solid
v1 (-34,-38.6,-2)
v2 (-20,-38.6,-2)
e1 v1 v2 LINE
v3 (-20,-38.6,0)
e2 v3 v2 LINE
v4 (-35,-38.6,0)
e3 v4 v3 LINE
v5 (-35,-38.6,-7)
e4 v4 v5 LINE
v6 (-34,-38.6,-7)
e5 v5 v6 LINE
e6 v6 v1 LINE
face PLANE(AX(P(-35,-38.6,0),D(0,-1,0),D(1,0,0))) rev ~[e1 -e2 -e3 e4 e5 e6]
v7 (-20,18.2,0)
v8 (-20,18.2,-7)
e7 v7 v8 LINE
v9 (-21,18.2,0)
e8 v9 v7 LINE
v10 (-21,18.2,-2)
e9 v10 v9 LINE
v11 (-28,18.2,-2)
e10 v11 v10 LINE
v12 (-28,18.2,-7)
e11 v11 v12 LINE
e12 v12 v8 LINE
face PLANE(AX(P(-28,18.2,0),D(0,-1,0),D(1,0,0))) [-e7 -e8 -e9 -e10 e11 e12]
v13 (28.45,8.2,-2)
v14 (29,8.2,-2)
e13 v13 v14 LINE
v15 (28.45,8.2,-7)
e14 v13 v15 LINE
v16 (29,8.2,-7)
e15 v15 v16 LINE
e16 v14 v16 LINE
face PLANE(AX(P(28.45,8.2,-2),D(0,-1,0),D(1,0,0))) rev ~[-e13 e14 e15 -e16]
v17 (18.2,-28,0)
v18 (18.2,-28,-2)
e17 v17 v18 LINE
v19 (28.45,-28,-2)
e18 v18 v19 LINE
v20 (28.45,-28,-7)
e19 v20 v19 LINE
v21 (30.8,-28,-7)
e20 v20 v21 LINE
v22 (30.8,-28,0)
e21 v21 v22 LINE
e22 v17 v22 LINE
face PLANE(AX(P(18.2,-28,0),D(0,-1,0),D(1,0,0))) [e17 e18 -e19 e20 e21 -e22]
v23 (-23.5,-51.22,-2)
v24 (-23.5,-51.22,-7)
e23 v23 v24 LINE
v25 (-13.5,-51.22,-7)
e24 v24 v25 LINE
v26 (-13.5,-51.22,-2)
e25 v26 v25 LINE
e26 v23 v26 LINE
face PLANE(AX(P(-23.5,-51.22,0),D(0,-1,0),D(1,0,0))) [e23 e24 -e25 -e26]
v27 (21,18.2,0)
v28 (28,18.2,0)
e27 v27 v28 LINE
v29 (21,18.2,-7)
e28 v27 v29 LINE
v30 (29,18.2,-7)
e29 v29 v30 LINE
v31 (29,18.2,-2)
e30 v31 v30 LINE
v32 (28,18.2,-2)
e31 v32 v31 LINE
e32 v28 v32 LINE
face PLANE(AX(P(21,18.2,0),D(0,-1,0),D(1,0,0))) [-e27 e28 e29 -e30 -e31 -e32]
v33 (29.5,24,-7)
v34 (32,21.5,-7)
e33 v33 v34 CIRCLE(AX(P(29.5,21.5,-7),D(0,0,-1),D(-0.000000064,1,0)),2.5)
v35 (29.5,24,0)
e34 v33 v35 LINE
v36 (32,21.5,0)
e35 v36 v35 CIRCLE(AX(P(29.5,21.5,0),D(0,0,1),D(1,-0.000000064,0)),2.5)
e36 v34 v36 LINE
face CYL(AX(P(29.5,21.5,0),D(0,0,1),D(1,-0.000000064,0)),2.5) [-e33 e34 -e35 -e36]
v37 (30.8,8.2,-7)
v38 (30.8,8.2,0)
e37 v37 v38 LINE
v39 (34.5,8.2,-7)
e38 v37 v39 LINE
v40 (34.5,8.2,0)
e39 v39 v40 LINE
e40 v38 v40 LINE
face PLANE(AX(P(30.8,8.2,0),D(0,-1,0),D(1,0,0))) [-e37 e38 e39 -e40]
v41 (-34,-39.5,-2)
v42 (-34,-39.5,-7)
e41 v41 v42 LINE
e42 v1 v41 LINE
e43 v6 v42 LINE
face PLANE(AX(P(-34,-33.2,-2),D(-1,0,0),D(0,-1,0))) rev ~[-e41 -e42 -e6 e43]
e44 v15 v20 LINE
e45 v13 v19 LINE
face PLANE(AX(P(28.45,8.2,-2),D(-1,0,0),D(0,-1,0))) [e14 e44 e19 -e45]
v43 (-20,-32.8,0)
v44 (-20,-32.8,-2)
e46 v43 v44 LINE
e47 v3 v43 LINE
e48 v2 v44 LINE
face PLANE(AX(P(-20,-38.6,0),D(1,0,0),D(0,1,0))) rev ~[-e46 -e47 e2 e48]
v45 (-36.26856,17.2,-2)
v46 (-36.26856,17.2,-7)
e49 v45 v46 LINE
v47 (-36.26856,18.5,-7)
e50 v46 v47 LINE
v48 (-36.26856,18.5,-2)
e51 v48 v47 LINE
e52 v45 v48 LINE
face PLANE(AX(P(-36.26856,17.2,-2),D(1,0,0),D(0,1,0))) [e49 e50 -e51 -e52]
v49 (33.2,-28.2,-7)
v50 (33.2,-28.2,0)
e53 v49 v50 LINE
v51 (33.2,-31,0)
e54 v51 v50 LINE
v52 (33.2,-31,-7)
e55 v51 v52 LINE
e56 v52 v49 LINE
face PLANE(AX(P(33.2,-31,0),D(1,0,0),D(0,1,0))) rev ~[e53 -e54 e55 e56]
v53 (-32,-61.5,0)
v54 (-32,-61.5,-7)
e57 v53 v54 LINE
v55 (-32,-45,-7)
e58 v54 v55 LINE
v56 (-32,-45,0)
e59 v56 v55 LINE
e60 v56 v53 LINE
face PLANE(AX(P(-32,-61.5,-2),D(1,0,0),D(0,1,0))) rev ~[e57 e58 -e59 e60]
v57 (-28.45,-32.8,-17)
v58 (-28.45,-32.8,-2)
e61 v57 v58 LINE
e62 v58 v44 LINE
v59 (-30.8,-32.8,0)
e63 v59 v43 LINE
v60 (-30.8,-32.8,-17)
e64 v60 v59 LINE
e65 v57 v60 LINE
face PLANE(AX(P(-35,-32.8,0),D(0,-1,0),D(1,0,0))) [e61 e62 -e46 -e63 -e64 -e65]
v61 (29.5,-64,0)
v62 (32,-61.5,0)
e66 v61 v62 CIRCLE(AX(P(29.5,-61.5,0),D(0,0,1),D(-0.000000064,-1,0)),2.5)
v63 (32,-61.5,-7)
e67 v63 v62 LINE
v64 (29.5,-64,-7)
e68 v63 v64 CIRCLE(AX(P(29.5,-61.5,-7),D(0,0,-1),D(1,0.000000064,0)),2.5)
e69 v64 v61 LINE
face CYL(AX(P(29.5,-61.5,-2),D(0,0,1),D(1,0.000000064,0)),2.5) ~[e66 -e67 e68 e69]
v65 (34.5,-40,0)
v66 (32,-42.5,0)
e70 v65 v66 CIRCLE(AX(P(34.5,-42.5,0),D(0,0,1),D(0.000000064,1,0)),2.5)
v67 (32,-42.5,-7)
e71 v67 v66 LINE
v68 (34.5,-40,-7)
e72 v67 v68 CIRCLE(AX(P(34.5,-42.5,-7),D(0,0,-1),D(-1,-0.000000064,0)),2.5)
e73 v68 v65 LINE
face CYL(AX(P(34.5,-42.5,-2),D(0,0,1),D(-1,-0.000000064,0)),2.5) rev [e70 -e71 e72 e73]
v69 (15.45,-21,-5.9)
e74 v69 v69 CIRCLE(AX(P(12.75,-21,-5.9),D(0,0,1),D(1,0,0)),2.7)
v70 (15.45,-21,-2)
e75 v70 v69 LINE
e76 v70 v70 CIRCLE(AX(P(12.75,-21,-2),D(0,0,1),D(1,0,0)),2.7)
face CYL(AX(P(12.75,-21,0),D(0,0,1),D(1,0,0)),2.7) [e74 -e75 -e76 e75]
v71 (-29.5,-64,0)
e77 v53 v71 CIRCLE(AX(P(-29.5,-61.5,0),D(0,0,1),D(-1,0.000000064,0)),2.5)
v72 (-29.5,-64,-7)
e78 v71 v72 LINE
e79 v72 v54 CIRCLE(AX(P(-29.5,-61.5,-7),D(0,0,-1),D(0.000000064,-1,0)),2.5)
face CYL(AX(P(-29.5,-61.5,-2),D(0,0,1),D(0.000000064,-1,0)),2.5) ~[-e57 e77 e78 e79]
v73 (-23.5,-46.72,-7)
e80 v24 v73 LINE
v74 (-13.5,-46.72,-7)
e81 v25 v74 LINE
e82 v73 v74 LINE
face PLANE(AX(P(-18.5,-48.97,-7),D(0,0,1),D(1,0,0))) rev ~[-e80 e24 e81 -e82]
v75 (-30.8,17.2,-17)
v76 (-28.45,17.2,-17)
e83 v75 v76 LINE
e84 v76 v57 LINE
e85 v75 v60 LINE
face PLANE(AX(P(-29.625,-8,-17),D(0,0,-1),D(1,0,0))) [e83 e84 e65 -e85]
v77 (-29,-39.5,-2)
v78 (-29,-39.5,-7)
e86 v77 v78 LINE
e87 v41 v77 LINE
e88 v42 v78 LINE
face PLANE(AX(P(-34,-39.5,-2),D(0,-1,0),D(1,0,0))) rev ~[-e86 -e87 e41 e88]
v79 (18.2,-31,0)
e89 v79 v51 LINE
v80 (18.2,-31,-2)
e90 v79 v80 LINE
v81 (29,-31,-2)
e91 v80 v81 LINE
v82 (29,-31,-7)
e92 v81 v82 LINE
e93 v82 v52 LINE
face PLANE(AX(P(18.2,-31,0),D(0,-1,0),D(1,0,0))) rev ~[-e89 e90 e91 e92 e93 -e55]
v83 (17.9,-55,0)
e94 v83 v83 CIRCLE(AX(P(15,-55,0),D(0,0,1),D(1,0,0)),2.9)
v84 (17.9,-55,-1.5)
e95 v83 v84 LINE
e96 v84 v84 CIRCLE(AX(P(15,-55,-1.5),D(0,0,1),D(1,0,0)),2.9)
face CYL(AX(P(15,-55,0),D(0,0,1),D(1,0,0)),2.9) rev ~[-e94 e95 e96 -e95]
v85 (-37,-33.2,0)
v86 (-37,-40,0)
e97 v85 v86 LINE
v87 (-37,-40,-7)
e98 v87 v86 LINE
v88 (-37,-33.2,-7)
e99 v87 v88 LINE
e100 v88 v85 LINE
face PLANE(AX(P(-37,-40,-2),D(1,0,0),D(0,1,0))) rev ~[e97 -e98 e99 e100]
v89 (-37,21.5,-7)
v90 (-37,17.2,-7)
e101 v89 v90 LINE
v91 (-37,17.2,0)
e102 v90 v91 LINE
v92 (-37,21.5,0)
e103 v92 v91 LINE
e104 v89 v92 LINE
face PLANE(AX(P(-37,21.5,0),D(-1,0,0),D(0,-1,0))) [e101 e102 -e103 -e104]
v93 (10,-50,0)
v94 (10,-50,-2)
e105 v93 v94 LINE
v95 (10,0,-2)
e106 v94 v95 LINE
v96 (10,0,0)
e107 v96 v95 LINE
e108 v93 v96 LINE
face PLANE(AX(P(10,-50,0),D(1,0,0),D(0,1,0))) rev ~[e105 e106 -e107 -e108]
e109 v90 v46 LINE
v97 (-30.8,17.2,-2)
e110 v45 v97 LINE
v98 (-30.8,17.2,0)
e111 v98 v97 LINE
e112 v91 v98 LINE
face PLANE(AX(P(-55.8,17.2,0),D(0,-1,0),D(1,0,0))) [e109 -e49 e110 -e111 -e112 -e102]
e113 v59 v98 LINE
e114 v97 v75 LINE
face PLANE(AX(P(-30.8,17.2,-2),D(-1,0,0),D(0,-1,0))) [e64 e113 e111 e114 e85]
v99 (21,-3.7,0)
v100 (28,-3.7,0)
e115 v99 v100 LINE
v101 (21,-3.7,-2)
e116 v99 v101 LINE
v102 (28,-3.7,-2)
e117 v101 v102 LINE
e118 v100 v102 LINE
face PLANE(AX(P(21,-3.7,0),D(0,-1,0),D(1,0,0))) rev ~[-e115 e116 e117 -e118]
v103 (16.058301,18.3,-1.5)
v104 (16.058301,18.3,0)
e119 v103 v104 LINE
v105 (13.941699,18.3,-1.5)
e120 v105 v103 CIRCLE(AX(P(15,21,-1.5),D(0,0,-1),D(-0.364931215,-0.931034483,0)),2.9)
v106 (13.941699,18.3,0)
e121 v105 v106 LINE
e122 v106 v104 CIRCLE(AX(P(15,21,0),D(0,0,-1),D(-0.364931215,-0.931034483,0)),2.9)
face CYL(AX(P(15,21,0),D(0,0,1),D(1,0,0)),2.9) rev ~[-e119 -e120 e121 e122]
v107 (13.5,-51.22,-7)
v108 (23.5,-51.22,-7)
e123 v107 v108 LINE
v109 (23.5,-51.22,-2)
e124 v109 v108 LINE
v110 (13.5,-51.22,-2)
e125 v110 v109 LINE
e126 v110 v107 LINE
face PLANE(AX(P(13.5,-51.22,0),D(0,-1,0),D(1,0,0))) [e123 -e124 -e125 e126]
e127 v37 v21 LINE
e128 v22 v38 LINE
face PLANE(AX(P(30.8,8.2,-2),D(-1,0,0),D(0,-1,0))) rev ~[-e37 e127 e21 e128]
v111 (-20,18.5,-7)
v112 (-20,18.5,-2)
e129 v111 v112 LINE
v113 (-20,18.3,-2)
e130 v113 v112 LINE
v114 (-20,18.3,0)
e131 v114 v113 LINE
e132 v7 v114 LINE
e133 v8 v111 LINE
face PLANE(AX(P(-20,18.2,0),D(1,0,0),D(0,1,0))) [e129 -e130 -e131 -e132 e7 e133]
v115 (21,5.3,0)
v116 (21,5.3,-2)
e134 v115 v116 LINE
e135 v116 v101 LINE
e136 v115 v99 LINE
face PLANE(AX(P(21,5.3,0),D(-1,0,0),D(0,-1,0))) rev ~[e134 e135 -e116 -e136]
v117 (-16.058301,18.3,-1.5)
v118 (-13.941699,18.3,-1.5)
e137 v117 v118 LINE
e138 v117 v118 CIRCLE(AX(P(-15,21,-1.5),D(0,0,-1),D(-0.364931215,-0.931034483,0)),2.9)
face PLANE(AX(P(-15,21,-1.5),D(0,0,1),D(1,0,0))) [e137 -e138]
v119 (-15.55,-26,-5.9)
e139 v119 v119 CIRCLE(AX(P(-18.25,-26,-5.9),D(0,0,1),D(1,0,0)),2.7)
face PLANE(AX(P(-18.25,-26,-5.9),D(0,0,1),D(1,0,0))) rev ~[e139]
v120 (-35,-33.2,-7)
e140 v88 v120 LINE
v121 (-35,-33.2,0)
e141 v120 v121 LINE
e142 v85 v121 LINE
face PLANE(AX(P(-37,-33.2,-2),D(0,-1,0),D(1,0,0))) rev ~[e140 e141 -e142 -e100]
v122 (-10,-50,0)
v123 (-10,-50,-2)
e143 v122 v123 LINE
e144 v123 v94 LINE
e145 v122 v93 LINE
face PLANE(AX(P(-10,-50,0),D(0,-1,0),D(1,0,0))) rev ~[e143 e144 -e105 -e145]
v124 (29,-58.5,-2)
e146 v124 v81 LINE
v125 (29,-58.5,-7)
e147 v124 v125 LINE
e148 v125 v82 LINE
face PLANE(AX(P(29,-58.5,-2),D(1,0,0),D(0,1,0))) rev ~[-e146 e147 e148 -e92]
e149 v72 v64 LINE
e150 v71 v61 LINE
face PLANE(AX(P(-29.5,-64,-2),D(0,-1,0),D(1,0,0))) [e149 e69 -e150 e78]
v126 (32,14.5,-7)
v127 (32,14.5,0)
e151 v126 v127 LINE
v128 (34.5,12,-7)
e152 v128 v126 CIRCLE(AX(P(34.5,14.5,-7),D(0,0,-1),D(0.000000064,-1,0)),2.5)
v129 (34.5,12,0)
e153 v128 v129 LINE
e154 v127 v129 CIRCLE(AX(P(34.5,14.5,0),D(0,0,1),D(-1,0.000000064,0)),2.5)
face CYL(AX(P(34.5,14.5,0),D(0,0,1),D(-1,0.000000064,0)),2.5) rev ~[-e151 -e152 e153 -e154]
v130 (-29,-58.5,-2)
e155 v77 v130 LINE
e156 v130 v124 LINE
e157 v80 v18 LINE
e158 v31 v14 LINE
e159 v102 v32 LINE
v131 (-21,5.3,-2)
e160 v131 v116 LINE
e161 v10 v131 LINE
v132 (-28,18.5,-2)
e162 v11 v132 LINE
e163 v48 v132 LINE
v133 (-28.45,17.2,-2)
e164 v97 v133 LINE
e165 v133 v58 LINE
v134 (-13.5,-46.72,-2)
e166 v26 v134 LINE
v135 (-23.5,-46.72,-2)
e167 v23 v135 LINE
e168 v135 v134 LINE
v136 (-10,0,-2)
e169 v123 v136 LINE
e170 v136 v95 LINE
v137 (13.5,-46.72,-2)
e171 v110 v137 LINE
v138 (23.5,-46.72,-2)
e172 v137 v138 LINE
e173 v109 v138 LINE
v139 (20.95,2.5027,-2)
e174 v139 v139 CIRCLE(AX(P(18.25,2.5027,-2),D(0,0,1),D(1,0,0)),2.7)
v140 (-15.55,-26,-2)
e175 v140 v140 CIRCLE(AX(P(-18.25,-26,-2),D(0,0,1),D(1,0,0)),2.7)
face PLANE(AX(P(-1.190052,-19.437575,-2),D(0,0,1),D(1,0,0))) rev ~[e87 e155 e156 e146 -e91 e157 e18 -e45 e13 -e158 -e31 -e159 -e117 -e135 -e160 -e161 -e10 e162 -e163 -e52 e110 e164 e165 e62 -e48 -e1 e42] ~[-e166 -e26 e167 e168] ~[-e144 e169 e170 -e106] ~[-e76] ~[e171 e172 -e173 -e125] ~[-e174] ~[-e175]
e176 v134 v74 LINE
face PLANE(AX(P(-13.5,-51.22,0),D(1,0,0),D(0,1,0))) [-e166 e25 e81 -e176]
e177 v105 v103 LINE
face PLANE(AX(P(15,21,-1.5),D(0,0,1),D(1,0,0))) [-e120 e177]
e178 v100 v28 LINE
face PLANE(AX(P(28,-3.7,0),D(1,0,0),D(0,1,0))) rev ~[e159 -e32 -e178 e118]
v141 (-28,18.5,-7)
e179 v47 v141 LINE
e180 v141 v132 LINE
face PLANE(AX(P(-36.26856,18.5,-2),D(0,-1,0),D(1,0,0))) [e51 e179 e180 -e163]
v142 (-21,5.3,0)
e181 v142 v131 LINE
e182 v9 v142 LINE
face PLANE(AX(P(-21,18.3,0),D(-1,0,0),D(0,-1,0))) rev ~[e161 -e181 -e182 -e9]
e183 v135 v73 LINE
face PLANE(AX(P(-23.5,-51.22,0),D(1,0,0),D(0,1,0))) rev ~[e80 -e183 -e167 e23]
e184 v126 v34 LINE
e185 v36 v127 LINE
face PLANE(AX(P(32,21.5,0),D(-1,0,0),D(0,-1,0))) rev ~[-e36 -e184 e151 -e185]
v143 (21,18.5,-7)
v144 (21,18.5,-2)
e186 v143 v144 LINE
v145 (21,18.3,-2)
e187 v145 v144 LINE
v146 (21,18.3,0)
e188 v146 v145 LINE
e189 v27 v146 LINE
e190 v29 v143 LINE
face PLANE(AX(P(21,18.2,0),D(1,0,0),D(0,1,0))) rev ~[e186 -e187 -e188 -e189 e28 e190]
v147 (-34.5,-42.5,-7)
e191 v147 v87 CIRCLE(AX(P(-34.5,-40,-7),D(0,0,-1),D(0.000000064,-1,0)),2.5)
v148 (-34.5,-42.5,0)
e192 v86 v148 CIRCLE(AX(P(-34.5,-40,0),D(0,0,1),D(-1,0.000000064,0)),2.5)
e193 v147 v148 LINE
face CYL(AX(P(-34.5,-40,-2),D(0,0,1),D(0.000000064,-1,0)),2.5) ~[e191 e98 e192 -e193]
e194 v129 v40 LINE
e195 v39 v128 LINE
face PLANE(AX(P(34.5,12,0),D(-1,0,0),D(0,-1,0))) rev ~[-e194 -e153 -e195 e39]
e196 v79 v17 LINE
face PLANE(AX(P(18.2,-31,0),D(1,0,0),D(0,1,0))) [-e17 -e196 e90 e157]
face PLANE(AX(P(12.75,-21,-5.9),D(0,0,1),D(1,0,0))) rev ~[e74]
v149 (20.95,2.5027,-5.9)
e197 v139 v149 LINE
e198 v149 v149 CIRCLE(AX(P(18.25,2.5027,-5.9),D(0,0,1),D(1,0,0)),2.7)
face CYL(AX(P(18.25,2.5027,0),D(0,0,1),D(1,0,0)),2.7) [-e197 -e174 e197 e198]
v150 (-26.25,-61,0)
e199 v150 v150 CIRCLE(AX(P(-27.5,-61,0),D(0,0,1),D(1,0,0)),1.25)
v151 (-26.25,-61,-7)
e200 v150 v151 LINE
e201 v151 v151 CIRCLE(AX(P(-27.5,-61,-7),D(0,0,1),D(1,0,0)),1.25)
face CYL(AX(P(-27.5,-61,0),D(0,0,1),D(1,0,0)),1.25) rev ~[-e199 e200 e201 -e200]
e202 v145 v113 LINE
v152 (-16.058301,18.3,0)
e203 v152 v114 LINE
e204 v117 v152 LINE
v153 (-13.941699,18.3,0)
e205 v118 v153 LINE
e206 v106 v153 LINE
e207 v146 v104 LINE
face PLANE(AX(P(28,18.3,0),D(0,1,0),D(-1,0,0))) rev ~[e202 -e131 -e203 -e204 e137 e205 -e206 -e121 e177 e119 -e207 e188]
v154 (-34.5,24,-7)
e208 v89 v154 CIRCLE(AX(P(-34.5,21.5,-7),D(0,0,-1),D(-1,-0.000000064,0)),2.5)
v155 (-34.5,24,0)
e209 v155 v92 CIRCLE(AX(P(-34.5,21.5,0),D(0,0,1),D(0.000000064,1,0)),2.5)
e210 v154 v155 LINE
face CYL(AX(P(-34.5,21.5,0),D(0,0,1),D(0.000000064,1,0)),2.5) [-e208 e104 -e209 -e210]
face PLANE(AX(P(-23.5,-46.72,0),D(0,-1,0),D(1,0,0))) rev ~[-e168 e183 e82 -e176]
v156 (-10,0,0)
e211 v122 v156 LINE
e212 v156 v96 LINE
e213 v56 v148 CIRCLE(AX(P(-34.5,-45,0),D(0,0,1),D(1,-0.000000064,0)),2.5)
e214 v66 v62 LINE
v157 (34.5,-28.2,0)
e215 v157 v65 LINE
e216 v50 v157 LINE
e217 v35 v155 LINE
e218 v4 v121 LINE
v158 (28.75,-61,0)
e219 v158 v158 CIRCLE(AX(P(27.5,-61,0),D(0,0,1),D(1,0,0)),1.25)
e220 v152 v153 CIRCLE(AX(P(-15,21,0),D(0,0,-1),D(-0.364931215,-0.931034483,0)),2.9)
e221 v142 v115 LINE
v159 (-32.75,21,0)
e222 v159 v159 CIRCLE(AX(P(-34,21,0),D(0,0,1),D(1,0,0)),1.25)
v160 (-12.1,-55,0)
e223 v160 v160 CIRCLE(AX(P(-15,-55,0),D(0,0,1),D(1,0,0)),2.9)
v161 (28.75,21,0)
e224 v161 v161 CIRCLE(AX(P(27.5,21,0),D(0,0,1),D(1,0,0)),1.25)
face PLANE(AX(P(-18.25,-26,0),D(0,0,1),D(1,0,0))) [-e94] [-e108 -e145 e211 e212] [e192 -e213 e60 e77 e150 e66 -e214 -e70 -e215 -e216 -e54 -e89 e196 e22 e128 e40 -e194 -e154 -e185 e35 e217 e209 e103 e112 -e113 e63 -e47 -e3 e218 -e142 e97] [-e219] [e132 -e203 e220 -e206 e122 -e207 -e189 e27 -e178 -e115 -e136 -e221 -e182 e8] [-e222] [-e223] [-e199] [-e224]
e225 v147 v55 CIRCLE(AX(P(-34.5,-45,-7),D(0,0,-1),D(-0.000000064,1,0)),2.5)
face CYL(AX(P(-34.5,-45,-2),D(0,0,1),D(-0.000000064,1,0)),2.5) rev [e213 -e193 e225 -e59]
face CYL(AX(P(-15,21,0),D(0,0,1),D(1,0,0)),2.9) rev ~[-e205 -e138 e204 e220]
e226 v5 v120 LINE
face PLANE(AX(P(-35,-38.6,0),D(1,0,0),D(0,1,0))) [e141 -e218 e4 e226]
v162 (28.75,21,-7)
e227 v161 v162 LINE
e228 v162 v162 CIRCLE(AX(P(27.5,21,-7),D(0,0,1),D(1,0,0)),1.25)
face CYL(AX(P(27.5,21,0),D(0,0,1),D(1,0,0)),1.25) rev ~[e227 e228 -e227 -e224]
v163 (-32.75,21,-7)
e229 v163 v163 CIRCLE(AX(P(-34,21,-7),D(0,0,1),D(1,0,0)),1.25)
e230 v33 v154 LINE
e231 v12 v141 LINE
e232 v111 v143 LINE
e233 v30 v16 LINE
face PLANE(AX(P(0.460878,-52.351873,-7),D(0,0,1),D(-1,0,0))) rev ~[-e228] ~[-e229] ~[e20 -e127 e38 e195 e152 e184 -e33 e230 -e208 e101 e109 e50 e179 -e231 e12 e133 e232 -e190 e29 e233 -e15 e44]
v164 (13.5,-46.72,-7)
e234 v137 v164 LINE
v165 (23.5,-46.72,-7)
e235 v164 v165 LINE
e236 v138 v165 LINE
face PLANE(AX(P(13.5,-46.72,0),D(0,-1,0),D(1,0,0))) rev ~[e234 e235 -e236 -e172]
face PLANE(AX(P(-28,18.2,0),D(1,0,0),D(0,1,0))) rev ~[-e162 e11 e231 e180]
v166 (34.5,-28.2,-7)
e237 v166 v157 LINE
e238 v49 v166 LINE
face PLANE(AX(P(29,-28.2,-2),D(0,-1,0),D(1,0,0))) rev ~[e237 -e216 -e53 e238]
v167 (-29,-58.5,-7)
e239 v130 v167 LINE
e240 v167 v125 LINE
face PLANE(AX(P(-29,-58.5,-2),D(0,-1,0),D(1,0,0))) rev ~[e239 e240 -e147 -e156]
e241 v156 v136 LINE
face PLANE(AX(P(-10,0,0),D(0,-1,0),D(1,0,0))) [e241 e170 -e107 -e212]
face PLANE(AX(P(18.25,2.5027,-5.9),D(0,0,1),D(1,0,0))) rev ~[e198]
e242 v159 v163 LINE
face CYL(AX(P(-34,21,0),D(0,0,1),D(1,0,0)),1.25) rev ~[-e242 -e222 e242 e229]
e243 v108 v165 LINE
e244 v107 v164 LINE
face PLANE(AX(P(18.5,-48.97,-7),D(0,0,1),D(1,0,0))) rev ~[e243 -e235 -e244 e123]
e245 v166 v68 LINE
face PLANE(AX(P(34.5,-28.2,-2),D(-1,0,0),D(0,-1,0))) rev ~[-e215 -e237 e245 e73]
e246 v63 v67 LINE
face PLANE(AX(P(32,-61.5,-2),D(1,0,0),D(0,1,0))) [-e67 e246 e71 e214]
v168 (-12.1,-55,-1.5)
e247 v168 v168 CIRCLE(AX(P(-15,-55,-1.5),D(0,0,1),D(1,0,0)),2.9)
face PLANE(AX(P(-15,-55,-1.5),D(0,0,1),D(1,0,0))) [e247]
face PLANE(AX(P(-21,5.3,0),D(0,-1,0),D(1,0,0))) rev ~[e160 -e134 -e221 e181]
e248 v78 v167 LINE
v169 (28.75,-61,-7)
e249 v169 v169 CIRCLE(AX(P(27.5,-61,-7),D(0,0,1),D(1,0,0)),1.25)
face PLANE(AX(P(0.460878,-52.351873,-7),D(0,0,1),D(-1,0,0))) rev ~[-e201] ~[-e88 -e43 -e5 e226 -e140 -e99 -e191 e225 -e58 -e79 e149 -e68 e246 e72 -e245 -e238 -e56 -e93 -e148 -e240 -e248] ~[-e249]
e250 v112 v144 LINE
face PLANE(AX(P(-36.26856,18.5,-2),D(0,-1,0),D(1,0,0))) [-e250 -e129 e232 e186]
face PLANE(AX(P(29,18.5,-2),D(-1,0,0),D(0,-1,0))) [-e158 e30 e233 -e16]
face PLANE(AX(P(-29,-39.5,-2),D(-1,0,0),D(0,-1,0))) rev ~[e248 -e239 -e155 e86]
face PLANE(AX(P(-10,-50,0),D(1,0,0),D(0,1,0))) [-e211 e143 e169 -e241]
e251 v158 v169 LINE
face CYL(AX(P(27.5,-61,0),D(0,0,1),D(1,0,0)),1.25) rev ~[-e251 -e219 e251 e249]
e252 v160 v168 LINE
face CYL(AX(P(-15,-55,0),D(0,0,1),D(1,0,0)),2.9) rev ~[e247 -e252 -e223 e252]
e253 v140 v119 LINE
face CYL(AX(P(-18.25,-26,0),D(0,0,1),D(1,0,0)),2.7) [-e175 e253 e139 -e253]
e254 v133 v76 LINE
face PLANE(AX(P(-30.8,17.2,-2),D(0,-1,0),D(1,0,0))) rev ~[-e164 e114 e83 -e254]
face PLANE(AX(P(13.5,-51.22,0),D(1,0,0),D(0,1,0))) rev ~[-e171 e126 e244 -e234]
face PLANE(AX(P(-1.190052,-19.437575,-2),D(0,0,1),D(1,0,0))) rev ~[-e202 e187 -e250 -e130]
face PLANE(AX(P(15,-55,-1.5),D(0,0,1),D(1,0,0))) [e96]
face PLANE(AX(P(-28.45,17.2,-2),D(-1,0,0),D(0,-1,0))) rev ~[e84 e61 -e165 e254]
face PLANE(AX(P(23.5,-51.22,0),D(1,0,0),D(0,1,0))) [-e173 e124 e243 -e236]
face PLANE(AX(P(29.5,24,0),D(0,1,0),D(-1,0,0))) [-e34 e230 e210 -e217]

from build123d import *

# Parameters (mm, degrees)
PAD005_DEPTH         = 2
POCKET003_DEPTH      = 2
SKETCH009_R          = 2.7
PAD004_DEPTH         = 5.9
SKETCH013_W          = 25
SKETCH013_H          = 50.4
SKETCH013_H_2        = 36.4
POCKET007_DEPTH      = 5.901
POCKET007_DEPTH_BACK = 0.001
SKETCH016_W          = 2.35
SKETCH016_H          = 50.4
PAD008_DEPTH         = 15
SKETCH017_W          = 2.35
SKETCH017_H          = 36.4
PAD009_DEPTH         = 5
SKETCH019_R          = 2.9
POCKET009_DEPTH      = 1.5
PAD011_DEPTH         = 5
SKETCH023_W          = 8
SKETCH023_H          = 4.5
SKETCH023_W_2        = 10
PAD013_DEPTH         = 7
SKETCH025_R          = 1.25
POCKET011_DEPTH      = 17.001
POCKET011_DEPTH_BACK = 0.001
SKETCH033_W          = 20
SKETCH033_H          = 50
POCKET017_DEPTH      = 17.001
POCKET017_DEPTH_BACK = 0.001
SKETCH042_W          = 15
SKETCH042_H          = 5.8
SKETCH042_H_2        = 3
POCKET021_DEPTH      = 17.001
POCKET021_DEPTH_BACK = 0.001


with BuildPart() as part:
    # Sketch011 → Pad005 (new body)
    with BuildSketch(Plane.XY):
        with BuildLine():
            Line((-29.5, -64), (29.5, -64))
            ThreePointArc((29.5, -64), (31.267767, -63.267767), (32, -61.5))
            Line((32, -42.5), (32, -61.5))
            ThreePointArc((34.5, -40), (32.732233, -40.732233), (32, -42.5))
            Line((34.5, 12), (34.5, -40))
            ThreePointArc((32, 14.5), (32.732233, 12.732233), (34.5, 12))
            Line((32, 21.5), (32, 14.5))
            ThreePointArc((32, 21.5), (31.267767, 23.267767), (29.5, 24))
            Line((29.5, 24), (-34.5, 24))
            ThreePointArc((-34.5, 24), (-36.267767, 23.267767), (-37, 21.5))
            Line((-37, 21.5), (-37, -40))
            ThreePointArc((-37, -40), (-36.267767, -41.767767), (-34.5, -42.5))
            ThreePointArc((-32, -45), (-32.732233, -43.232233), (-34.5, -42.5))
            Line((-32, -45), (-32, -61.5))
            ThreePointArc((-32, -61.5), (-31.267767, -63.267767), (-29.5, -64))
        make_face()
    extrude(amount=-PAD005_DEPTH)

    # Sketch007 → Pocket003 (cut)
    with BuildSketch(Plane.XY):
        Polygon((-21, 18.3), (-21, 5.3), (21, 5.3), (21, -3.7), (28, -3.7), (28, 18.3), align=None)
    extrude(amount=-POCKET003_DEPTH, mode=Mode.SUBTRACT)

    # Sketch009 → Pad004 (join)
    with BuildSketch(Plane.XY):
        with Locations((-18.25, -26)):
            Circle(SKETCH009_R)
        with Locations((12.75, -21)):
            Circle(SKETCH009_R)
        with Locations((18.25, 2.5027)):
            Circle(SKETCH009_R)
    extrude(amount=-PAD004_DEPTH)

    # Sketch013 → Pocket007 (cut, two sides)
    with BuildSketch(Plane.XY) as pocket007_sk:
        with Locations((-43.3, -8)):
            Rectangle(SKETCH013_W, SKETCH013_H)
        with Locations((43.3, -10)):
            Rectangle(SKETCH013_W, SKETCH013_H_2)
    extrude(amount=-POCKET007_DEPTH, mode=Mode.SUBTRACT)
    extrude(pocket007_sk.sketch, amount=POCKET007_DEPTH_BACK, mode=Mode.SUBTRACT)

    # Sketch016 (on Face5 of Pocket007) → Pad008 (join)
    with BuildSketch(Plane(origin=(0, 0, -2), x_dir=(1, 0, 0), z_dir=(0, 0, -1))):
        with Locations((-29.625, 8)):
            Rectangle(SKETCH016_W, SKETCH016_H)
    extrude(amount=PAD008_DEPTH)

    # Sketch017 (on Face5 of Pocket007) → Pad009 (join)
    with BuildSketch(Plane(origin=(0, 0, -2), x_dir=(1, 0, 0), z_dir=(0, 0, -1))):
        with Locations((29.625, 10)):
            Rectangle(SKETCH017_W, SKETCH017_H)
    extrude(amount=PAD009_DEPTH)

    # Sketch019 → Pocket009 (cut)
    with BuildSketch(Plane.XY):
        with Locations((-15, 21)):
            Circle(SKETCH019_R)
        with Locations((15, 21)):
            Circle(SKETCH019_R)
        with Locations((-15, -55)):
            Circle(SKETCH019_R)
        with Locations((15, -55)):
            Circle(SKETCH019_R)
    extrude(amount=-POCKET009_DEPTH, mode=Mode.SUBTRACT)

    # Sketch021 (on Face5 of Pocket009) → Pad011 (join)
    with BuildSketch(Plane(origin=(0, 0, -2), x_dir=(1, 0, 0), z_dir=(0, 0, -1))):
        with BuildLine():
            Line((-29.5, 64), (29.5, 64))
            ThreePointArc((32, 61.5), (31.267767, 63.267767), (29.5, 64))
            Line((32, 61.5), (32, 42.5))
            ThreePointArc((32, 42.5), (32.732233, 40.732233), (34.5, 40))
            Line((34.5, 28.2), (34.5, 40))
            Line((29, 28.2), (34.5, 28.2))
            Line((29, 58.5), (29, 28.2))
            Line((-29, 58.5), (29, 58.5))
            Line((-29, 39.5), (-29, 58.5))
            Line((-34, 39.5), (-29, 39.5))
            Line((-34, 33.2), (-34, 39.5))
            Line((-37, 33.2), (-34, 33.2))
            Line((-37, 40), (-37, 33.2))
            ThreePointArc((-34.5, 42.5), (-36.267767, 41.767767), (-37, 40))
            ThreePointArc((-34.5, 42.5), (-32.732233, 43.232233), (-32, 45))
            Line((-32, 61.5), (-32, 45))
            ThreePointArc((-29.5, 64), (-31.267767, 63.267767), (-32, 61.5))
        make_face()
        with BuildLine():
            Line((34.5, -8.2), (34.5, -12))
            ThreePointArc((34.5, -12), (32.732233, -12.732233), (32, -14.5))
            Line((32, -14.5), (32, -21.5))
            ThreePointArc((29.5, -24), (31.267767, -23.267767), (32, -21.5))
            Line((29.5, -24), (-34.5, -24))
            ThreePointArc((-37, -21.5), (-36.267767, -23.267767), (-34.5, -24))
            Line((-37, -21.5), (-37, -17.2))
            Line((-37, -17.2), (-36.26856, -17.2))
            Line((-36.26856, -17.2), (-36.26856, -18.5))
            Line((-36.26856, -18.5), (29, -18.5))
            Line((29, -18.5), (29, -8.2))
            Line((29, -8.2), (34.5, -8.2))
        make_face()
    extrude(amount=PAD011_DEPTH)

    # Sketch023 → Pad013 (join)
    with BuildSketch(Plane.XY):
        with Locations((-24, 20.45)):
            Rectangle(SKETCH023_W, SKETCH023_H)
        with Locations((25, 20.45)):
            Rectangle(SKETCH023_W, SKETCH023_H)
        with Locations((-18.5, -48.97)):
            Rectangle(SKETCH023_W_2, SKETCH023_H)
        with Locations((18.5, -48.97)):
            Rectangle(SKETCH023_W_2, SKETCH023_H)
    extrude(amount=-PAD013_DEPTH)

    # Sketch025 → Pocket011 (cut, two sides)
    with BuildSketch(Plane.XY) as pocket011_sk:
        with Locations((-34, 21)):
            Circle(SKETCH025_R)
        with Locations((27.5, 21)):
            Circle(SKETCH025_R)
        with Locations((27.5, -61)):
            Circle(SKETCH025_R)
        with Locations((-27.5, -61)):
            Circle(SKETCH025_R)
    extrude(amount=-POCKET011_DEPTH, mode=Mode.SUBTRACT)
    extrude(pocket011_sk.sketch, amount=POCKET011_DEPTH_BACK, mode=Mode.SUBTRACT)

    # Sketch033 → Pocket017 (cut, two sides)
    with BuildSketch(Plane.XY) as pocket017_sk:
        with Locations((0, -25)):
            Rectangle(SKETCH033_W, SKETCH033_H)
    extrude(amount=-POCKET017_DEPTH, mode=Mode.SUBTRACT)
    extrude(pocket017_sk.sketch, amount=POCKET017_DEPTH_BACK, mode=Mode.SUBTRACT)

    # Sketch042 → Pocket021 (cut, two sides)
    with BuildSketch(Plane.XY) as pocket021_sk:
        with Locations((-27.5, -35.7)):
            Rectangle(SKETCH042_W, SKETCH042_H)
        with Locations((25.7, -29.5)):
            Rectangle(SKETCH042_W, SKETCH042_H_2)
    extrude(amount=-POCKET021_DEPTH, mode=Mode.SUBTRACT)
    extrude(pocket021_sk.sketch, amount=POCKET021_DEPTH_BACK, mode=Mode.SUBTRACT)


solid = part.part
